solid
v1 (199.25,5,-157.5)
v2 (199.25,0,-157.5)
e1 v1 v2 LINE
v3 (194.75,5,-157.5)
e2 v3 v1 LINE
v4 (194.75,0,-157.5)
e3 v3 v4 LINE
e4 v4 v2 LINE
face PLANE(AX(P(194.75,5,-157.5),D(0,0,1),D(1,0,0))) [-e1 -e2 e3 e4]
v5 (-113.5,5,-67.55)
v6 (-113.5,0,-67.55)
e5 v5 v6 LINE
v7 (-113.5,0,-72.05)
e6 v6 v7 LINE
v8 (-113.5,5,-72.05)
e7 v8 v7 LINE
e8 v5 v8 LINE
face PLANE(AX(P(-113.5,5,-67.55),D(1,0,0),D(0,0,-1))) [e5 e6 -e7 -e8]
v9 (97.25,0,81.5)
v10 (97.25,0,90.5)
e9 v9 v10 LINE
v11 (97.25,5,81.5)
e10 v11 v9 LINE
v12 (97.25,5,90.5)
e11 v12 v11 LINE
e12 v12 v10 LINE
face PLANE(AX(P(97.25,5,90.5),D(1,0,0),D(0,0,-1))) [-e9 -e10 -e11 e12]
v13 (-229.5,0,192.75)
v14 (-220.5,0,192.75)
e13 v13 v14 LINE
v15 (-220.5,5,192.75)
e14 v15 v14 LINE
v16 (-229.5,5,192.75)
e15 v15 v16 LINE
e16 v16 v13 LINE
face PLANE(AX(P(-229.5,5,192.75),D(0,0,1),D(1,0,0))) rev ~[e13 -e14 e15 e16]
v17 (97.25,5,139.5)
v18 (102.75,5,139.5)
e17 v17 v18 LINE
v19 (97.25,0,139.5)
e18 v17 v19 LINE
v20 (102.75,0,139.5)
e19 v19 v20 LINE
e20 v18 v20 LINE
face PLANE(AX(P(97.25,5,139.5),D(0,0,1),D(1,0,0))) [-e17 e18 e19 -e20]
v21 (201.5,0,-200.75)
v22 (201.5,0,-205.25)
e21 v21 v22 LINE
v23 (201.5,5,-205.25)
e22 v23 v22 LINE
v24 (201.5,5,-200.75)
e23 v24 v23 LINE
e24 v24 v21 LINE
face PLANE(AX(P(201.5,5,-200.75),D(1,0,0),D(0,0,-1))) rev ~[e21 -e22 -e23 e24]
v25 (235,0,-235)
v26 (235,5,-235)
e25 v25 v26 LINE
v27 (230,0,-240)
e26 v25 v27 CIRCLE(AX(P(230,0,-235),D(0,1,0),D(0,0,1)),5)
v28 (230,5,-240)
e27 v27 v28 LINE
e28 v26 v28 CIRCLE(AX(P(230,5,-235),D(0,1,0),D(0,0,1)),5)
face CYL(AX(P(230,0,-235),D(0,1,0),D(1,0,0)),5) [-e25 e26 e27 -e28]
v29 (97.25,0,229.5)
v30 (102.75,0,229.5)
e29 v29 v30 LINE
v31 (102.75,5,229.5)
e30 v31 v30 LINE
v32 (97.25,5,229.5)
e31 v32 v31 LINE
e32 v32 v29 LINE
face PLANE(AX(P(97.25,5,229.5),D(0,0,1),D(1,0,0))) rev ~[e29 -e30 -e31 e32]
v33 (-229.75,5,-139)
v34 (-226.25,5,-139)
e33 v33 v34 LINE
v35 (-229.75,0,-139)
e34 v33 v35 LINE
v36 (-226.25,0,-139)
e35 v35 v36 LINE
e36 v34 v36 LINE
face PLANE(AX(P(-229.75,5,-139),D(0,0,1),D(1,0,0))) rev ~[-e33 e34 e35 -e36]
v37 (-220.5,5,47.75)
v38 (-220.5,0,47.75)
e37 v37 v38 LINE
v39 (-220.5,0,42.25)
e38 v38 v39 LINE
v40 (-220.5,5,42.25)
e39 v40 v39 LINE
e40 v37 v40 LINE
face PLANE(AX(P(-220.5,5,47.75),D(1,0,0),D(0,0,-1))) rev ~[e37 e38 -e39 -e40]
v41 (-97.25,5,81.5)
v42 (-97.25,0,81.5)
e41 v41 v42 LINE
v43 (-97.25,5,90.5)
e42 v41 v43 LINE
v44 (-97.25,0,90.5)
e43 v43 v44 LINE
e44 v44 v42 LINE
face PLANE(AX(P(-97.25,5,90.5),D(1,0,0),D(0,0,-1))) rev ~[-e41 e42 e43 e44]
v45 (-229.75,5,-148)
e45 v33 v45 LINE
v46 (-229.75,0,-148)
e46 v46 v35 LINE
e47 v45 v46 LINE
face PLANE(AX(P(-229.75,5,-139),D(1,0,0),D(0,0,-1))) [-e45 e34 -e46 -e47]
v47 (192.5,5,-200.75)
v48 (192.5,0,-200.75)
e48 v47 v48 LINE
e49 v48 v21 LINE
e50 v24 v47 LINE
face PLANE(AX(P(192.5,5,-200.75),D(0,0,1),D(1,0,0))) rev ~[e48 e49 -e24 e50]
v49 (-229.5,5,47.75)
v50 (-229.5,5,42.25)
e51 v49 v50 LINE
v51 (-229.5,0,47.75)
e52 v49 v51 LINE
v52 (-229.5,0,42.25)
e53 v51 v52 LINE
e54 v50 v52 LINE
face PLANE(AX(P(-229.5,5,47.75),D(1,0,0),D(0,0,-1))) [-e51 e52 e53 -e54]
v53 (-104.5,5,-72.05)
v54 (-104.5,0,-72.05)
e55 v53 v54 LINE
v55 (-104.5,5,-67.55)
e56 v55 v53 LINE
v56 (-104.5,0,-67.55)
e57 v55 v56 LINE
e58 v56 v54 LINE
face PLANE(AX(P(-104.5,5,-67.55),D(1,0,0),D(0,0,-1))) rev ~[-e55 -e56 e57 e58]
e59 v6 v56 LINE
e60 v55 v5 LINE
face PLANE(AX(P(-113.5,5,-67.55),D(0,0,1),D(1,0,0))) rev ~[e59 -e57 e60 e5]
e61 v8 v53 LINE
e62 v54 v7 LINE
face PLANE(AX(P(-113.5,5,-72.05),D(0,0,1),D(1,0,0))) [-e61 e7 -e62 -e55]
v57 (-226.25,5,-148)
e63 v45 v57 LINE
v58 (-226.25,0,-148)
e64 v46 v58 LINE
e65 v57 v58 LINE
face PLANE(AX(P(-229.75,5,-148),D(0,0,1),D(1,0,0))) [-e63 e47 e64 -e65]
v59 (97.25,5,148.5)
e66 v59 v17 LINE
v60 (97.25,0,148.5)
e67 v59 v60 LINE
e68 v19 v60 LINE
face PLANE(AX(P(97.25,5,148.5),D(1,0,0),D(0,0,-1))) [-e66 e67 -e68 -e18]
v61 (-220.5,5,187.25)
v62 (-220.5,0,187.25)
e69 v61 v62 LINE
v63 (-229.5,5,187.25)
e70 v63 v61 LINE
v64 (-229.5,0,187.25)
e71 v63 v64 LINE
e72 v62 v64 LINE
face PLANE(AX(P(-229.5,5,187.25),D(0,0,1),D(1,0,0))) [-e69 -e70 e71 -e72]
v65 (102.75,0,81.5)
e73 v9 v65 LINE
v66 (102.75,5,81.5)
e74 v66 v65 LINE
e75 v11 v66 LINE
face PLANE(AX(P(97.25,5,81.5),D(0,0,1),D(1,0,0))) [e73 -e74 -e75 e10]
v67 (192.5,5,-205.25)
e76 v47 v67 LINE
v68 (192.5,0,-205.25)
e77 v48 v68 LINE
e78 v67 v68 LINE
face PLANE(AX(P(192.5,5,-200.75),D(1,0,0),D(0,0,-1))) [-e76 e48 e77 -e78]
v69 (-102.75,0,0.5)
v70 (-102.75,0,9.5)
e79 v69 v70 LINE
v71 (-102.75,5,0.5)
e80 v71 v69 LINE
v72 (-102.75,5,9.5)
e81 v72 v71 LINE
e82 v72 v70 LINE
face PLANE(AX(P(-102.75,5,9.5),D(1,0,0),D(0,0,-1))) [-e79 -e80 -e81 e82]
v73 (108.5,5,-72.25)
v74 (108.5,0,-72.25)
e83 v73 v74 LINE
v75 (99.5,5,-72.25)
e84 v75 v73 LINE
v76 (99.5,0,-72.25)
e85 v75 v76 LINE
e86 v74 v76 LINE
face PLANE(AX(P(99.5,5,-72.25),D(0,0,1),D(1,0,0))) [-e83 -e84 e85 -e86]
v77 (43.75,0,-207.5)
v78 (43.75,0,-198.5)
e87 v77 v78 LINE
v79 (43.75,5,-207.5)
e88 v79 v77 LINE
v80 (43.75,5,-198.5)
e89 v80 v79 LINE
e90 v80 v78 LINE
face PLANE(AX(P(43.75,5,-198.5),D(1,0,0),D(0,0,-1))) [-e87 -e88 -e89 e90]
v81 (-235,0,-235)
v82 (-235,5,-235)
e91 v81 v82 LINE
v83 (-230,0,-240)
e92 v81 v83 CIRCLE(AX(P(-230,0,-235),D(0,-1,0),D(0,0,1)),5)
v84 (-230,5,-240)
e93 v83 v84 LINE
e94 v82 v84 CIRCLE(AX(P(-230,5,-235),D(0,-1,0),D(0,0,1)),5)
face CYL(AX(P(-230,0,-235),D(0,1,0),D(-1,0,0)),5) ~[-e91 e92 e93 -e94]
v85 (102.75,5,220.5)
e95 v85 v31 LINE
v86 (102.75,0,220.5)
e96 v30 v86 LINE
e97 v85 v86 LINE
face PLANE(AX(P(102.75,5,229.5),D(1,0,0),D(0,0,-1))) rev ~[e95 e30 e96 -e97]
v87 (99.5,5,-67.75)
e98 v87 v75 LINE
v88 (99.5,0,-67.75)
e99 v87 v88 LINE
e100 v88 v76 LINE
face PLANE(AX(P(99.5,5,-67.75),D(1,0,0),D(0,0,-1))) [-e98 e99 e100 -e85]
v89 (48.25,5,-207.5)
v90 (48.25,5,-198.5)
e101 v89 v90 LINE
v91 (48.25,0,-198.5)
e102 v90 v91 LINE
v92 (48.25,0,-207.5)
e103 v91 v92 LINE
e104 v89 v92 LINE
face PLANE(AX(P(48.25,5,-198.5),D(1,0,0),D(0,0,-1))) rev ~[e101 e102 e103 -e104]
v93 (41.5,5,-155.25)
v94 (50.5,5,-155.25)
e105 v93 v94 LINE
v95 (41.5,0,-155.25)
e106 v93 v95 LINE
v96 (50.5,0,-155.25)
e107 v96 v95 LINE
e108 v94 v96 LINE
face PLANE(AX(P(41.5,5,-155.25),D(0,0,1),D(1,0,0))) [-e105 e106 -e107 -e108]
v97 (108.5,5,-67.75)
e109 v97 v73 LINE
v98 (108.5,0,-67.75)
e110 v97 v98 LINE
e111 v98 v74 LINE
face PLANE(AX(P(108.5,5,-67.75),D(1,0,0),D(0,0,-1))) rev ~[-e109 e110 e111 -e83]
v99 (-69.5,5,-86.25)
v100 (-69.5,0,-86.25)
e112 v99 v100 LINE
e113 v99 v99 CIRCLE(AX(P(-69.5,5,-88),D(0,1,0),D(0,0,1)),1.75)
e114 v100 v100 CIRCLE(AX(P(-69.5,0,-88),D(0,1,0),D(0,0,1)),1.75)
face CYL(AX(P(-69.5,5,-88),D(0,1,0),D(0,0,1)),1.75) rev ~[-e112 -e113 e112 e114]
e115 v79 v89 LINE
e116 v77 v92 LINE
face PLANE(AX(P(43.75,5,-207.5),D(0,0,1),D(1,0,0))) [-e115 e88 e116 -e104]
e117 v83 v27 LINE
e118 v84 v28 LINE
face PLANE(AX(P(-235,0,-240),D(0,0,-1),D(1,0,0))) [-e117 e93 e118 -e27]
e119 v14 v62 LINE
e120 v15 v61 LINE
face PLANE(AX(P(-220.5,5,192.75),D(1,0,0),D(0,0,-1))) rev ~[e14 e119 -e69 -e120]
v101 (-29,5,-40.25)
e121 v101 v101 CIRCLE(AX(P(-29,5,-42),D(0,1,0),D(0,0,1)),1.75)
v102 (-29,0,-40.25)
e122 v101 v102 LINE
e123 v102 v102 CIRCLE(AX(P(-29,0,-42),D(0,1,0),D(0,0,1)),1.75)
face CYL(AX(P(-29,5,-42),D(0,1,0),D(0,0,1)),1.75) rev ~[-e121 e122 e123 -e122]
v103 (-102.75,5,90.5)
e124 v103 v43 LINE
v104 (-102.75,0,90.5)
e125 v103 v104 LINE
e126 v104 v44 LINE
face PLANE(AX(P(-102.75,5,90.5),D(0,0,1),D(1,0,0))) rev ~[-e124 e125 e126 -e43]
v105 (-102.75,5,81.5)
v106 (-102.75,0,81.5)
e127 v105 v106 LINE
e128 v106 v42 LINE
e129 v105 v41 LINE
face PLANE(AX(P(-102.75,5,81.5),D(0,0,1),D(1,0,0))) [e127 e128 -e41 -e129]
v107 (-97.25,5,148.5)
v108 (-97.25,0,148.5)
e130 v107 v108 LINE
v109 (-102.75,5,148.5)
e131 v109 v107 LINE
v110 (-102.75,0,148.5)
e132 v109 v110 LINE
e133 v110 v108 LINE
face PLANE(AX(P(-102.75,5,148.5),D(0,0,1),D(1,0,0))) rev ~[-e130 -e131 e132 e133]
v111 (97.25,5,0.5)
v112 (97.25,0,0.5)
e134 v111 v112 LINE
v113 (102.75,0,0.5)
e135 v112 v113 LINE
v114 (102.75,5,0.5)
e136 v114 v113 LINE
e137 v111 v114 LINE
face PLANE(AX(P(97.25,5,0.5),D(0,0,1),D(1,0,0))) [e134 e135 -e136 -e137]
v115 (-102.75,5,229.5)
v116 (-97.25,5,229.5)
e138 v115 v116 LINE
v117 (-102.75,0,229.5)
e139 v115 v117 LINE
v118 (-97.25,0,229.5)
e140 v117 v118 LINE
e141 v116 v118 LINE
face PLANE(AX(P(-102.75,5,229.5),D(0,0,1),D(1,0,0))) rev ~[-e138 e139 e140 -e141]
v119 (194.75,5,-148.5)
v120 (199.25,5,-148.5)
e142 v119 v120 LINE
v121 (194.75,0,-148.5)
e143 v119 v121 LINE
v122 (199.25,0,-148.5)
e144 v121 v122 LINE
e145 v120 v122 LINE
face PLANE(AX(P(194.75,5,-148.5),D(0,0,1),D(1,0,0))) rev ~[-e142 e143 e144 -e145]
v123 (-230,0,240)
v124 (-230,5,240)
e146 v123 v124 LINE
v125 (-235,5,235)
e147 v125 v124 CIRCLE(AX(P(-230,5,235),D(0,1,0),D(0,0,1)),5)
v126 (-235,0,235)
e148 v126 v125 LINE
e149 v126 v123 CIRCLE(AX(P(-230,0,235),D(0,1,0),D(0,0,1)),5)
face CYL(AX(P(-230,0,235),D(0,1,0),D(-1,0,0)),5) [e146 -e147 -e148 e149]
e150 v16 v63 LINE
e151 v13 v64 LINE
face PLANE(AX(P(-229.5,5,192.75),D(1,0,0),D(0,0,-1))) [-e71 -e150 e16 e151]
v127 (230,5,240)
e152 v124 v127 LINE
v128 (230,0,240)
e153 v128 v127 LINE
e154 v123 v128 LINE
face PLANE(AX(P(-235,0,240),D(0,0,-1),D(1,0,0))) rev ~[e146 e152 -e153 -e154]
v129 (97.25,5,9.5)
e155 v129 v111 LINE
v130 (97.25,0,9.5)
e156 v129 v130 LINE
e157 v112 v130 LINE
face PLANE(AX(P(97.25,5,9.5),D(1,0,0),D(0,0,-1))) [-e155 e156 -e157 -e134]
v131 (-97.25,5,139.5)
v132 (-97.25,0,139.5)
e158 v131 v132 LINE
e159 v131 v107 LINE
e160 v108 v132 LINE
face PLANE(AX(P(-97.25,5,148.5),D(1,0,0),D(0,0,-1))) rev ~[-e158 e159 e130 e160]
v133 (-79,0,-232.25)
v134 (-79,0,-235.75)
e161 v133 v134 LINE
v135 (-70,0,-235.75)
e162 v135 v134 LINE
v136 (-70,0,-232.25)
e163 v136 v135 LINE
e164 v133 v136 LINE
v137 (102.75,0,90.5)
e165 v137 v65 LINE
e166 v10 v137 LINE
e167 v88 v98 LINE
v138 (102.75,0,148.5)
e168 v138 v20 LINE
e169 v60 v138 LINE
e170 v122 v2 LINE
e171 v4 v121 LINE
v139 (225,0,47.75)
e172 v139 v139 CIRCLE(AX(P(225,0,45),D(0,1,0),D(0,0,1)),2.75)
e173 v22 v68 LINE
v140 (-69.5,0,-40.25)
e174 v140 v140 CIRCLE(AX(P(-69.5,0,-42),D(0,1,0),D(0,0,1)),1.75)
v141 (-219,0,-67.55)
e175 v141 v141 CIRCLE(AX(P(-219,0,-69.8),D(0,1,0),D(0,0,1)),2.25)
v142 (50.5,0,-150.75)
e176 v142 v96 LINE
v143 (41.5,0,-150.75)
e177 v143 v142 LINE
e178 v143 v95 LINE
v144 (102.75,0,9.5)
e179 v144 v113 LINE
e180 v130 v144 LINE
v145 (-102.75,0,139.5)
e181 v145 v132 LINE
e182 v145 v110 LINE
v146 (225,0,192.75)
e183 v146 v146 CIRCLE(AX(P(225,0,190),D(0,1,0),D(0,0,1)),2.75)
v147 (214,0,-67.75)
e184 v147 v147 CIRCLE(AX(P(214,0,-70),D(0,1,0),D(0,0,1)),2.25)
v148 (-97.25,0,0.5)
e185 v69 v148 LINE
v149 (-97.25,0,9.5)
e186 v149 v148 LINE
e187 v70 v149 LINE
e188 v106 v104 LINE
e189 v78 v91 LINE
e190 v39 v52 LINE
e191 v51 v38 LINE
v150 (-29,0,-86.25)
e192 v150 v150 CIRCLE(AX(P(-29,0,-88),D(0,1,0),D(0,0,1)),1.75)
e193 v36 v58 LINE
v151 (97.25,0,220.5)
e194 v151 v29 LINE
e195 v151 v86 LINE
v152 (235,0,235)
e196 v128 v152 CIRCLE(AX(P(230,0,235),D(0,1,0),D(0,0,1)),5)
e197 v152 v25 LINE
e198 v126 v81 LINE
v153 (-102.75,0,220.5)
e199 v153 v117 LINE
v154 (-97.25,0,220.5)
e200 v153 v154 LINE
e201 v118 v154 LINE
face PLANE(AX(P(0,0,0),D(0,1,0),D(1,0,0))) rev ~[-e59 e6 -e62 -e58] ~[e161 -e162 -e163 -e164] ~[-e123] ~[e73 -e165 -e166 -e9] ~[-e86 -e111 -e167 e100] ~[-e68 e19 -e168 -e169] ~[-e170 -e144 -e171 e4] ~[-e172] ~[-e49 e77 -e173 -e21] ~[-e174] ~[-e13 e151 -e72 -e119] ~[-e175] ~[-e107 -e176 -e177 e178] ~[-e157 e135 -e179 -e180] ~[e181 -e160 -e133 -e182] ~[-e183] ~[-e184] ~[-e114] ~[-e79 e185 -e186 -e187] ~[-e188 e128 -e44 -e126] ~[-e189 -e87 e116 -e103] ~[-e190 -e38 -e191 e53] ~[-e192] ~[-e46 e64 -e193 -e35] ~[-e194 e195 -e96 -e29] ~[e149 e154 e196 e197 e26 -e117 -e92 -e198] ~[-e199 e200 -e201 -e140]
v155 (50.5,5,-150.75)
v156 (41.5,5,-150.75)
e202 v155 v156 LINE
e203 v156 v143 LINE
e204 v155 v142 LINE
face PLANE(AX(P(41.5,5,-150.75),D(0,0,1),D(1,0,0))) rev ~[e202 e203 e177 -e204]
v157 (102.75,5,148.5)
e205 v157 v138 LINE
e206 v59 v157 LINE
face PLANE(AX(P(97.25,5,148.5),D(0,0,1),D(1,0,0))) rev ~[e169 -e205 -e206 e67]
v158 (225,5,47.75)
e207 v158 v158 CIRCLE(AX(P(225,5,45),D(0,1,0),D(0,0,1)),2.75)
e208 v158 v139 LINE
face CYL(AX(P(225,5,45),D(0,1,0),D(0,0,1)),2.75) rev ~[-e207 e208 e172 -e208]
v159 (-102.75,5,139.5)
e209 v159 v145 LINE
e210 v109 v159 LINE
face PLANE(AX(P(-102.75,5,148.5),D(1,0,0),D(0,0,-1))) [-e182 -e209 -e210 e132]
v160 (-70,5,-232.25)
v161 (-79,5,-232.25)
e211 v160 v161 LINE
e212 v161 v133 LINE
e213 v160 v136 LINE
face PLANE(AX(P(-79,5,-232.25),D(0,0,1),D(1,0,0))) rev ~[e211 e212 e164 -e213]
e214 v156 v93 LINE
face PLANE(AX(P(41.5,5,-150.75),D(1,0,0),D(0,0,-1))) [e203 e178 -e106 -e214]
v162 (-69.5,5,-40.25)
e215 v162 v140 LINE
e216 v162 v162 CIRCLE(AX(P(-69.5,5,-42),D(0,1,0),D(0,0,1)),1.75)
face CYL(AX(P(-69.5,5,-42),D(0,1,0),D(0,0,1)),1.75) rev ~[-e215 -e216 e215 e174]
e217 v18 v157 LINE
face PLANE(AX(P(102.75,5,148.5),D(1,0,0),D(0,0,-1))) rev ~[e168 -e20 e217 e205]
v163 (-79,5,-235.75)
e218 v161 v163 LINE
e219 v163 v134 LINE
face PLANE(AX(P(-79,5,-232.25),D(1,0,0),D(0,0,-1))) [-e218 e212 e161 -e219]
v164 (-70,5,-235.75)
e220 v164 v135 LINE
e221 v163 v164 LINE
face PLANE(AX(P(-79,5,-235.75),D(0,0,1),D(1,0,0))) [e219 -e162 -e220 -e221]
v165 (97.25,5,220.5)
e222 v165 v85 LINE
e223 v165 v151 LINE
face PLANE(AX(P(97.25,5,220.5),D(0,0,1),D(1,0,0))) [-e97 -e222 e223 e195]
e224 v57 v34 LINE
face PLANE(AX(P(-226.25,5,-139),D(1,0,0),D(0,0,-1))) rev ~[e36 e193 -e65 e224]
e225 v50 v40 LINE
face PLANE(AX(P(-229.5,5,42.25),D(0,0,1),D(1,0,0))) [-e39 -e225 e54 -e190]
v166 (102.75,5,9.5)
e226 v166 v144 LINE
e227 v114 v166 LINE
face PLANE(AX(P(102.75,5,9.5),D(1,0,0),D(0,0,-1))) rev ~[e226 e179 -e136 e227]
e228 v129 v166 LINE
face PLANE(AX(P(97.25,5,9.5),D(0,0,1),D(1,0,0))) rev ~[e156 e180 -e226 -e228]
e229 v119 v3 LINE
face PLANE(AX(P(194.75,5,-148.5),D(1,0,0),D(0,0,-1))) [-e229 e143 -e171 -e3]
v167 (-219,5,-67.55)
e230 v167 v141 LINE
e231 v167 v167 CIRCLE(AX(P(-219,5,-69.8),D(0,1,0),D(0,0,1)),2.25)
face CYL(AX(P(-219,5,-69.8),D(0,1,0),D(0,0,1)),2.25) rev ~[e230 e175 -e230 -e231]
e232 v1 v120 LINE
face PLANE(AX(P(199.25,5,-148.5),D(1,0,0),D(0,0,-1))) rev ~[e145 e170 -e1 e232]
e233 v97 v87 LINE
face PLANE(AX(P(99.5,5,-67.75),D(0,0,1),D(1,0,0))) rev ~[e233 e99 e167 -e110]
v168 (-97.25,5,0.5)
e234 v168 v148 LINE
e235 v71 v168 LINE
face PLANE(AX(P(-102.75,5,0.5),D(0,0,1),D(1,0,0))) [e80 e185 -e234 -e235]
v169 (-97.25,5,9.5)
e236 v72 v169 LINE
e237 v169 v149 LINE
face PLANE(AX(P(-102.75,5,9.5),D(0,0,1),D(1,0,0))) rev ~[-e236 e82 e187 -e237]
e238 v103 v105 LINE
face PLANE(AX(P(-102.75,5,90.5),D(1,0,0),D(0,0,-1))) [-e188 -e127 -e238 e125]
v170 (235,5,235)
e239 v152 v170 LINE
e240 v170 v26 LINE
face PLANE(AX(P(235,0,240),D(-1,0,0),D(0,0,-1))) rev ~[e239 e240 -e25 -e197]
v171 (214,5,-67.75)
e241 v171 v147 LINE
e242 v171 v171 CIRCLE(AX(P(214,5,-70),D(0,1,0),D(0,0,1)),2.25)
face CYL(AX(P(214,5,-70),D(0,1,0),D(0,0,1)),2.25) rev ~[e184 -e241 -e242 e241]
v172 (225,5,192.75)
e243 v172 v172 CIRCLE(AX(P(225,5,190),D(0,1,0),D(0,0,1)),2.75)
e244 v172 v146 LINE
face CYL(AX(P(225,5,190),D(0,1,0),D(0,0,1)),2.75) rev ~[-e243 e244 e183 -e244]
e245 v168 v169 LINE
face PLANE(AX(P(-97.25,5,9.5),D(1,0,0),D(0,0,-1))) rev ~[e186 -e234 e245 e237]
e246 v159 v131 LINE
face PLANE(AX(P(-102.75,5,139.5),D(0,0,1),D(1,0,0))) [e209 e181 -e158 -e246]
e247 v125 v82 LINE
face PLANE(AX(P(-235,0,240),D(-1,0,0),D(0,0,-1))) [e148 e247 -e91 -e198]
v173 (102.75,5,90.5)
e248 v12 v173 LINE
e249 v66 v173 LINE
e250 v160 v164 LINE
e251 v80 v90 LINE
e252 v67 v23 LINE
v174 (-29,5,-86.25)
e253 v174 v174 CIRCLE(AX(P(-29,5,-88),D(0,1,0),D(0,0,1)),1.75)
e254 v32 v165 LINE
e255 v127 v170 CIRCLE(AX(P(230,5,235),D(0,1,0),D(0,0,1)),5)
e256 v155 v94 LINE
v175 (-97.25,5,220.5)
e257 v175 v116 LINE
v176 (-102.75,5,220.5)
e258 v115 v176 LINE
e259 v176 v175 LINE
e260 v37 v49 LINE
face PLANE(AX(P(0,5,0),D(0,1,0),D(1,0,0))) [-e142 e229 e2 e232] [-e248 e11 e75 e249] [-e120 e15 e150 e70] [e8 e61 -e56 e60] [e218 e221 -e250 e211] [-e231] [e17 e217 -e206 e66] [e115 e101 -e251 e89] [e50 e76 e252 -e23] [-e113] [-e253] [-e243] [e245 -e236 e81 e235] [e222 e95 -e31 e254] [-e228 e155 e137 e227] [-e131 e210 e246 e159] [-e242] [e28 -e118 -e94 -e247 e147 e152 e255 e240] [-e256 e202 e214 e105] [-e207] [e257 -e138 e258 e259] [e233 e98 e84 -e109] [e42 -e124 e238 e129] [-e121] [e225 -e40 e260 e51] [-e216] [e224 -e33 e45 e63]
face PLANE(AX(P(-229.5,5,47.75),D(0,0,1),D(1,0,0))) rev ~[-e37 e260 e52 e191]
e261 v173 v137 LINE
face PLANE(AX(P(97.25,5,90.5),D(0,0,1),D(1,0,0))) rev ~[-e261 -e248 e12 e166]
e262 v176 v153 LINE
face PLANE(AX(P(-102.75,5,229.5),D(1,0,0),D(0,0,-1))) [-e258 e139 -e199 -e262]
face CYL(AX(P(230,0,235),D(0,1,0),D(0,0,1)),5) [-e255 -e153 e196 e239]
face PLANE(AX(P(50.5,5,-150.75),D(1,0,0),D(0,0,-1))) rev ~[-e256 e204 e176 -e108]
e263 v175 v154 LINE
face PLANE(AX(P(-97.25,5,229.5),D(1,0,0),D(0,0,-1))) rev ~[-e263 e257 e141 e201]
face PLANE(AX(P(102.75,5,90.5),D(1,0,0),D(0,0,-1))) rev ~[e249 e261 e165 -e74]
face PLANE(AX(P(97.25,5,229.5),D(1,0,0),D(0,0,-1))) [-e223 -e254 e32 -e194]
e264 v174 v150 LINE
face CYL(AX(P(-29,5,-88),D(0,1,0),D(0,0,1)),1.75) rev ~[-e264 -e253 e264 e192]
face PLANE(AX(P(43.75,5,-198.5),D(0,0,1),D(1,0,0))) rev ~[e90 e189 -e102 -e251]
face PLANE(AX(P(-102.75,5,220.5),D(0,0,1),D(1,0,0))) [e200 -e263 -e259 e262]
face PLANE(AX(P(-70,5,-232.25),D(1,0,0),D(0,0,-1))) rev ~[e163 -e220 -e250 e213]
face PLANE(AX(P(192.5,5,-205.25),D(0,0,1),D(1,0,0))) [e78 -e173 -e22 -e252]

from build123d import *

# Parameters (mm, degrees)
SKETCH_1_W          = 470
SKETCH_1_H          = 480
EXTRUDE_1_DEPTH     = 5
FILLET_1_R          = 5
SKETCH_2_R          = 2.25
SKETCH_2_R_2        = 1.75
SKETCH_2_R_3        = 2.75
CUT_EXTRUDE_1_DEPTH = 336.931540645
SKETCH_3_W          = 9
SKETCH_3_H          = 4.5
SKETCH_3_W_2        = 4.5
SKETCH_3_H_2        = 9
SKETCH_3_H_3        = 3.5
SKETCH_3_W_3        = 3.5
SKETCH_3_W_4        = 5.5
SKETCH_3_H_4        = 5.5
CUT_EXTRUDE_2_DEPTH = 336.931540645


with BuildPart() as part:
    # 草图1 → 凸台-拉伸1 (new body)
    with BuildSketch(Plane(origin=(0, 0, 0), x_dir=(1, 0, 0), z_dir=(0, 1, 0))):
        Rectangle(SKETCH_1_W, SKETCH_1_H)
    extrude(amount=EXTRUDE_1_DEPTH)

    # 圆角1
    fillet_1_edges = [part.edges().sort_by_distance(p)[0] for p in [
        (235, 2.5, 240),
        (-235, 2.5, 240),
        (-235, 2.5, -240),
        (235, 2.5, -240),
    ]]
    fillet(fillet_1_edges, radius=FILLET_1_R)

    # 草图2 → 切除-拉伸1 (cut, through all)
    with BuildSketch(Plane(origin=(0, 5, 0), x_dir=(1, 0, 0), z_dir=(0, 1, 0))):
        with Locations(Location((197, 153, 0), (0, 0, 270))):
            Circle(SKETCH_2_R)
        with Locations(Location((46, 153, 0), (0, 0, 270))):
            Circle(SKETCH_2_R)
        with Locations(Location((197, 203, 0), (0, 0, 270))):
            Circle(SKETCH_2_R)
        with Locations(Location((46, 203, 0), (0, 0, 270))):
            Circle(SKETCH_2_R)
        with Locations(Location((-228, 143.5, 0), (0, 0, 270))):
            Circle(SKETCH_2_R_2)
        with Locations(Location((-74.5, 234, 0), (0, 0, 270))):
            Circle(SKETCH_2_R_2)
        with Locations(Location((-219, 69.8, 0), (0, 0, 270))):
            Circle(SKETCH_2_R)
        with Locations(Location((-109, 69.8, 0), (0, 0, 270))):
            Circle(SKETCH_2_R)
        with Locations(Location((-69.5, 42, 0), (0, 0, 270))):
            Circle(SKETCH_2_R_2)
        with Locations(Location((-69.5, 88, 0), (0, 0, 270))):
            Circle(SKETCH_2_R_2)
        with Locations(Location((-29, 42, 0), (0, 0, 270))):
            Circle(SKETCH_2_R_2)
        with Locations(Location((-29, 88, 0), (0, 0, 270))):
            Circle(SKETCH_2_R_2)
        with Locations(Location((214, 70, 0), (0, 0, 270))):
            Circle(SKETCH_2_R)
        with Locations(Location((104, 70, 0), (0, 0, 270))):
            Circle(SKETCH_2_R)
        with Locations(Location((225, -190, 0), (0, 0, 270))):
            Circle(SKETCH_2_R_3)
        with Locations(Location((225, -45, 0), (0, 0, 270))):
            Circle(SKETCH_2_R_3)
        with Locations(Location((100, -5, 0), (0, 0, 270))):
            Circle(SKETCH_2_R_3)
        with Locations(Location((100, -225, 0), (0, 0, 270))):
            Circle(SKETCH_2_R_3)
        with Locations(Location((100, -144, 0), (0, 0, 270))):
            Circle(SKETCH_2_R_3)
        with Locations(Location((100, -86, 0), (0, 0, 270))):
            Circle(SKETCH_2_R_3)
        with Locations(Location((-100, -5, 0), (0, 0, 90))):
            Circle(SKETCH_2_R_3)
        with Locations(Location((-100, -86, 0), (0, 0, 90))):
            Circle(SKETCH_2_R_3)
        with Locations(Location((-100, -144, 0), (0, 0, 90))):
            Circle(SKETCH_2_R_3)
        with Locations(Location((-100, -225, 0), (0, 0, 90))):
            Circle(SKETCH_2_R_3)
        with Locations(Location((-225, -45, 0), (0, 0, 90))):
            Circle(SKETCH_2_R_3)
        with Locations(Location((-225, -190, 0), (0, 0, 90))):
            Circle(SKETCH_2_R_3)
    extrude(amount=-CUT_EXTRUDE_1_DEPTH, mode=Mode.SUBTRACT)

    # 草图3 → 切除-拉伸2 (cut, through all)
    with BuildSketch(Plane(origin=(0, 5, 0), x_dir=(1, 0, 0), z_dir=(0, 1, 0))):
        with Locations((104, 70)):
            Rectangle(SKETCH_3_W, SKETCH_3_H)
        with Locations((-109, 69.8)):
            Rectangle(SKETCH_3_W, SKETCH_3_H)
        with Locations((197, 153)):
            Rectangle(SKETCH_3_W_2, SKETCH_3_H_2)
        with Locations((-74.5, 234)):
            Rectangle(SKETCH_3_W, SKETCH_3_H_3)
        with Locations((-228, 143.5)):
            Rectangle(SKETCH_3_W_3, SKETCH_3_H_2)
        with Locations((197, 203)):
            Rectangle(SKETCH_3_W, SKETCH_3_H)
        with Locations((46, 203)):
            Rectangle(SKETCH_3_W_2, SKETCH_3_H_2)
        with Locations((46, 153)):
            Rectangle(SKETCH_3_W, SKETCH_3_H)
        with Locations((100, -225)):
            Rectangle(SKETCH_3_W_4, SKETCH_3_H_2)
        with Locations((100, -144)):
            Rectangle(SKETCH_3_W_4, SKETCH_3_H_2)
        with Locations((100, -86)):
            Rectangle(SKETCH_3_W_4, SKETCH_3_H_2)
        with Locations((100, -5)):
            Rectangle(SKETCH_3_W_4, SKETCH_3_H_2)
        with Locations((-225, -190)):
            Rectangle(SKETCH_3_W, SKETCH_3_H_4)
        with Locations((-225, -45)):
            Rectangle(SKETCH_3_W, SKETCH_3_H_4)
        with Locations((-100, -5)):
            Rectangle(SKETCH_3_W_4, SKETCH_3_H_2)
        with Locations((-100, -86)):
            Rectangle(SKETCH_3_W_4, SKETCH_3_H_2)
        with Locations((-100, -144)):
            Rectangle(SKETCH_3_W_4, SKETCH_3_H_2)
        with Locations((-100, -225)):
            Rectangle(SKETCH_3_W_4, SKETCH_3_H_2)
    extrude(amount=-CUT_EXTRUDE_2_DEPTH, mode=Mode.SUBTRACT)


solid = part.part
